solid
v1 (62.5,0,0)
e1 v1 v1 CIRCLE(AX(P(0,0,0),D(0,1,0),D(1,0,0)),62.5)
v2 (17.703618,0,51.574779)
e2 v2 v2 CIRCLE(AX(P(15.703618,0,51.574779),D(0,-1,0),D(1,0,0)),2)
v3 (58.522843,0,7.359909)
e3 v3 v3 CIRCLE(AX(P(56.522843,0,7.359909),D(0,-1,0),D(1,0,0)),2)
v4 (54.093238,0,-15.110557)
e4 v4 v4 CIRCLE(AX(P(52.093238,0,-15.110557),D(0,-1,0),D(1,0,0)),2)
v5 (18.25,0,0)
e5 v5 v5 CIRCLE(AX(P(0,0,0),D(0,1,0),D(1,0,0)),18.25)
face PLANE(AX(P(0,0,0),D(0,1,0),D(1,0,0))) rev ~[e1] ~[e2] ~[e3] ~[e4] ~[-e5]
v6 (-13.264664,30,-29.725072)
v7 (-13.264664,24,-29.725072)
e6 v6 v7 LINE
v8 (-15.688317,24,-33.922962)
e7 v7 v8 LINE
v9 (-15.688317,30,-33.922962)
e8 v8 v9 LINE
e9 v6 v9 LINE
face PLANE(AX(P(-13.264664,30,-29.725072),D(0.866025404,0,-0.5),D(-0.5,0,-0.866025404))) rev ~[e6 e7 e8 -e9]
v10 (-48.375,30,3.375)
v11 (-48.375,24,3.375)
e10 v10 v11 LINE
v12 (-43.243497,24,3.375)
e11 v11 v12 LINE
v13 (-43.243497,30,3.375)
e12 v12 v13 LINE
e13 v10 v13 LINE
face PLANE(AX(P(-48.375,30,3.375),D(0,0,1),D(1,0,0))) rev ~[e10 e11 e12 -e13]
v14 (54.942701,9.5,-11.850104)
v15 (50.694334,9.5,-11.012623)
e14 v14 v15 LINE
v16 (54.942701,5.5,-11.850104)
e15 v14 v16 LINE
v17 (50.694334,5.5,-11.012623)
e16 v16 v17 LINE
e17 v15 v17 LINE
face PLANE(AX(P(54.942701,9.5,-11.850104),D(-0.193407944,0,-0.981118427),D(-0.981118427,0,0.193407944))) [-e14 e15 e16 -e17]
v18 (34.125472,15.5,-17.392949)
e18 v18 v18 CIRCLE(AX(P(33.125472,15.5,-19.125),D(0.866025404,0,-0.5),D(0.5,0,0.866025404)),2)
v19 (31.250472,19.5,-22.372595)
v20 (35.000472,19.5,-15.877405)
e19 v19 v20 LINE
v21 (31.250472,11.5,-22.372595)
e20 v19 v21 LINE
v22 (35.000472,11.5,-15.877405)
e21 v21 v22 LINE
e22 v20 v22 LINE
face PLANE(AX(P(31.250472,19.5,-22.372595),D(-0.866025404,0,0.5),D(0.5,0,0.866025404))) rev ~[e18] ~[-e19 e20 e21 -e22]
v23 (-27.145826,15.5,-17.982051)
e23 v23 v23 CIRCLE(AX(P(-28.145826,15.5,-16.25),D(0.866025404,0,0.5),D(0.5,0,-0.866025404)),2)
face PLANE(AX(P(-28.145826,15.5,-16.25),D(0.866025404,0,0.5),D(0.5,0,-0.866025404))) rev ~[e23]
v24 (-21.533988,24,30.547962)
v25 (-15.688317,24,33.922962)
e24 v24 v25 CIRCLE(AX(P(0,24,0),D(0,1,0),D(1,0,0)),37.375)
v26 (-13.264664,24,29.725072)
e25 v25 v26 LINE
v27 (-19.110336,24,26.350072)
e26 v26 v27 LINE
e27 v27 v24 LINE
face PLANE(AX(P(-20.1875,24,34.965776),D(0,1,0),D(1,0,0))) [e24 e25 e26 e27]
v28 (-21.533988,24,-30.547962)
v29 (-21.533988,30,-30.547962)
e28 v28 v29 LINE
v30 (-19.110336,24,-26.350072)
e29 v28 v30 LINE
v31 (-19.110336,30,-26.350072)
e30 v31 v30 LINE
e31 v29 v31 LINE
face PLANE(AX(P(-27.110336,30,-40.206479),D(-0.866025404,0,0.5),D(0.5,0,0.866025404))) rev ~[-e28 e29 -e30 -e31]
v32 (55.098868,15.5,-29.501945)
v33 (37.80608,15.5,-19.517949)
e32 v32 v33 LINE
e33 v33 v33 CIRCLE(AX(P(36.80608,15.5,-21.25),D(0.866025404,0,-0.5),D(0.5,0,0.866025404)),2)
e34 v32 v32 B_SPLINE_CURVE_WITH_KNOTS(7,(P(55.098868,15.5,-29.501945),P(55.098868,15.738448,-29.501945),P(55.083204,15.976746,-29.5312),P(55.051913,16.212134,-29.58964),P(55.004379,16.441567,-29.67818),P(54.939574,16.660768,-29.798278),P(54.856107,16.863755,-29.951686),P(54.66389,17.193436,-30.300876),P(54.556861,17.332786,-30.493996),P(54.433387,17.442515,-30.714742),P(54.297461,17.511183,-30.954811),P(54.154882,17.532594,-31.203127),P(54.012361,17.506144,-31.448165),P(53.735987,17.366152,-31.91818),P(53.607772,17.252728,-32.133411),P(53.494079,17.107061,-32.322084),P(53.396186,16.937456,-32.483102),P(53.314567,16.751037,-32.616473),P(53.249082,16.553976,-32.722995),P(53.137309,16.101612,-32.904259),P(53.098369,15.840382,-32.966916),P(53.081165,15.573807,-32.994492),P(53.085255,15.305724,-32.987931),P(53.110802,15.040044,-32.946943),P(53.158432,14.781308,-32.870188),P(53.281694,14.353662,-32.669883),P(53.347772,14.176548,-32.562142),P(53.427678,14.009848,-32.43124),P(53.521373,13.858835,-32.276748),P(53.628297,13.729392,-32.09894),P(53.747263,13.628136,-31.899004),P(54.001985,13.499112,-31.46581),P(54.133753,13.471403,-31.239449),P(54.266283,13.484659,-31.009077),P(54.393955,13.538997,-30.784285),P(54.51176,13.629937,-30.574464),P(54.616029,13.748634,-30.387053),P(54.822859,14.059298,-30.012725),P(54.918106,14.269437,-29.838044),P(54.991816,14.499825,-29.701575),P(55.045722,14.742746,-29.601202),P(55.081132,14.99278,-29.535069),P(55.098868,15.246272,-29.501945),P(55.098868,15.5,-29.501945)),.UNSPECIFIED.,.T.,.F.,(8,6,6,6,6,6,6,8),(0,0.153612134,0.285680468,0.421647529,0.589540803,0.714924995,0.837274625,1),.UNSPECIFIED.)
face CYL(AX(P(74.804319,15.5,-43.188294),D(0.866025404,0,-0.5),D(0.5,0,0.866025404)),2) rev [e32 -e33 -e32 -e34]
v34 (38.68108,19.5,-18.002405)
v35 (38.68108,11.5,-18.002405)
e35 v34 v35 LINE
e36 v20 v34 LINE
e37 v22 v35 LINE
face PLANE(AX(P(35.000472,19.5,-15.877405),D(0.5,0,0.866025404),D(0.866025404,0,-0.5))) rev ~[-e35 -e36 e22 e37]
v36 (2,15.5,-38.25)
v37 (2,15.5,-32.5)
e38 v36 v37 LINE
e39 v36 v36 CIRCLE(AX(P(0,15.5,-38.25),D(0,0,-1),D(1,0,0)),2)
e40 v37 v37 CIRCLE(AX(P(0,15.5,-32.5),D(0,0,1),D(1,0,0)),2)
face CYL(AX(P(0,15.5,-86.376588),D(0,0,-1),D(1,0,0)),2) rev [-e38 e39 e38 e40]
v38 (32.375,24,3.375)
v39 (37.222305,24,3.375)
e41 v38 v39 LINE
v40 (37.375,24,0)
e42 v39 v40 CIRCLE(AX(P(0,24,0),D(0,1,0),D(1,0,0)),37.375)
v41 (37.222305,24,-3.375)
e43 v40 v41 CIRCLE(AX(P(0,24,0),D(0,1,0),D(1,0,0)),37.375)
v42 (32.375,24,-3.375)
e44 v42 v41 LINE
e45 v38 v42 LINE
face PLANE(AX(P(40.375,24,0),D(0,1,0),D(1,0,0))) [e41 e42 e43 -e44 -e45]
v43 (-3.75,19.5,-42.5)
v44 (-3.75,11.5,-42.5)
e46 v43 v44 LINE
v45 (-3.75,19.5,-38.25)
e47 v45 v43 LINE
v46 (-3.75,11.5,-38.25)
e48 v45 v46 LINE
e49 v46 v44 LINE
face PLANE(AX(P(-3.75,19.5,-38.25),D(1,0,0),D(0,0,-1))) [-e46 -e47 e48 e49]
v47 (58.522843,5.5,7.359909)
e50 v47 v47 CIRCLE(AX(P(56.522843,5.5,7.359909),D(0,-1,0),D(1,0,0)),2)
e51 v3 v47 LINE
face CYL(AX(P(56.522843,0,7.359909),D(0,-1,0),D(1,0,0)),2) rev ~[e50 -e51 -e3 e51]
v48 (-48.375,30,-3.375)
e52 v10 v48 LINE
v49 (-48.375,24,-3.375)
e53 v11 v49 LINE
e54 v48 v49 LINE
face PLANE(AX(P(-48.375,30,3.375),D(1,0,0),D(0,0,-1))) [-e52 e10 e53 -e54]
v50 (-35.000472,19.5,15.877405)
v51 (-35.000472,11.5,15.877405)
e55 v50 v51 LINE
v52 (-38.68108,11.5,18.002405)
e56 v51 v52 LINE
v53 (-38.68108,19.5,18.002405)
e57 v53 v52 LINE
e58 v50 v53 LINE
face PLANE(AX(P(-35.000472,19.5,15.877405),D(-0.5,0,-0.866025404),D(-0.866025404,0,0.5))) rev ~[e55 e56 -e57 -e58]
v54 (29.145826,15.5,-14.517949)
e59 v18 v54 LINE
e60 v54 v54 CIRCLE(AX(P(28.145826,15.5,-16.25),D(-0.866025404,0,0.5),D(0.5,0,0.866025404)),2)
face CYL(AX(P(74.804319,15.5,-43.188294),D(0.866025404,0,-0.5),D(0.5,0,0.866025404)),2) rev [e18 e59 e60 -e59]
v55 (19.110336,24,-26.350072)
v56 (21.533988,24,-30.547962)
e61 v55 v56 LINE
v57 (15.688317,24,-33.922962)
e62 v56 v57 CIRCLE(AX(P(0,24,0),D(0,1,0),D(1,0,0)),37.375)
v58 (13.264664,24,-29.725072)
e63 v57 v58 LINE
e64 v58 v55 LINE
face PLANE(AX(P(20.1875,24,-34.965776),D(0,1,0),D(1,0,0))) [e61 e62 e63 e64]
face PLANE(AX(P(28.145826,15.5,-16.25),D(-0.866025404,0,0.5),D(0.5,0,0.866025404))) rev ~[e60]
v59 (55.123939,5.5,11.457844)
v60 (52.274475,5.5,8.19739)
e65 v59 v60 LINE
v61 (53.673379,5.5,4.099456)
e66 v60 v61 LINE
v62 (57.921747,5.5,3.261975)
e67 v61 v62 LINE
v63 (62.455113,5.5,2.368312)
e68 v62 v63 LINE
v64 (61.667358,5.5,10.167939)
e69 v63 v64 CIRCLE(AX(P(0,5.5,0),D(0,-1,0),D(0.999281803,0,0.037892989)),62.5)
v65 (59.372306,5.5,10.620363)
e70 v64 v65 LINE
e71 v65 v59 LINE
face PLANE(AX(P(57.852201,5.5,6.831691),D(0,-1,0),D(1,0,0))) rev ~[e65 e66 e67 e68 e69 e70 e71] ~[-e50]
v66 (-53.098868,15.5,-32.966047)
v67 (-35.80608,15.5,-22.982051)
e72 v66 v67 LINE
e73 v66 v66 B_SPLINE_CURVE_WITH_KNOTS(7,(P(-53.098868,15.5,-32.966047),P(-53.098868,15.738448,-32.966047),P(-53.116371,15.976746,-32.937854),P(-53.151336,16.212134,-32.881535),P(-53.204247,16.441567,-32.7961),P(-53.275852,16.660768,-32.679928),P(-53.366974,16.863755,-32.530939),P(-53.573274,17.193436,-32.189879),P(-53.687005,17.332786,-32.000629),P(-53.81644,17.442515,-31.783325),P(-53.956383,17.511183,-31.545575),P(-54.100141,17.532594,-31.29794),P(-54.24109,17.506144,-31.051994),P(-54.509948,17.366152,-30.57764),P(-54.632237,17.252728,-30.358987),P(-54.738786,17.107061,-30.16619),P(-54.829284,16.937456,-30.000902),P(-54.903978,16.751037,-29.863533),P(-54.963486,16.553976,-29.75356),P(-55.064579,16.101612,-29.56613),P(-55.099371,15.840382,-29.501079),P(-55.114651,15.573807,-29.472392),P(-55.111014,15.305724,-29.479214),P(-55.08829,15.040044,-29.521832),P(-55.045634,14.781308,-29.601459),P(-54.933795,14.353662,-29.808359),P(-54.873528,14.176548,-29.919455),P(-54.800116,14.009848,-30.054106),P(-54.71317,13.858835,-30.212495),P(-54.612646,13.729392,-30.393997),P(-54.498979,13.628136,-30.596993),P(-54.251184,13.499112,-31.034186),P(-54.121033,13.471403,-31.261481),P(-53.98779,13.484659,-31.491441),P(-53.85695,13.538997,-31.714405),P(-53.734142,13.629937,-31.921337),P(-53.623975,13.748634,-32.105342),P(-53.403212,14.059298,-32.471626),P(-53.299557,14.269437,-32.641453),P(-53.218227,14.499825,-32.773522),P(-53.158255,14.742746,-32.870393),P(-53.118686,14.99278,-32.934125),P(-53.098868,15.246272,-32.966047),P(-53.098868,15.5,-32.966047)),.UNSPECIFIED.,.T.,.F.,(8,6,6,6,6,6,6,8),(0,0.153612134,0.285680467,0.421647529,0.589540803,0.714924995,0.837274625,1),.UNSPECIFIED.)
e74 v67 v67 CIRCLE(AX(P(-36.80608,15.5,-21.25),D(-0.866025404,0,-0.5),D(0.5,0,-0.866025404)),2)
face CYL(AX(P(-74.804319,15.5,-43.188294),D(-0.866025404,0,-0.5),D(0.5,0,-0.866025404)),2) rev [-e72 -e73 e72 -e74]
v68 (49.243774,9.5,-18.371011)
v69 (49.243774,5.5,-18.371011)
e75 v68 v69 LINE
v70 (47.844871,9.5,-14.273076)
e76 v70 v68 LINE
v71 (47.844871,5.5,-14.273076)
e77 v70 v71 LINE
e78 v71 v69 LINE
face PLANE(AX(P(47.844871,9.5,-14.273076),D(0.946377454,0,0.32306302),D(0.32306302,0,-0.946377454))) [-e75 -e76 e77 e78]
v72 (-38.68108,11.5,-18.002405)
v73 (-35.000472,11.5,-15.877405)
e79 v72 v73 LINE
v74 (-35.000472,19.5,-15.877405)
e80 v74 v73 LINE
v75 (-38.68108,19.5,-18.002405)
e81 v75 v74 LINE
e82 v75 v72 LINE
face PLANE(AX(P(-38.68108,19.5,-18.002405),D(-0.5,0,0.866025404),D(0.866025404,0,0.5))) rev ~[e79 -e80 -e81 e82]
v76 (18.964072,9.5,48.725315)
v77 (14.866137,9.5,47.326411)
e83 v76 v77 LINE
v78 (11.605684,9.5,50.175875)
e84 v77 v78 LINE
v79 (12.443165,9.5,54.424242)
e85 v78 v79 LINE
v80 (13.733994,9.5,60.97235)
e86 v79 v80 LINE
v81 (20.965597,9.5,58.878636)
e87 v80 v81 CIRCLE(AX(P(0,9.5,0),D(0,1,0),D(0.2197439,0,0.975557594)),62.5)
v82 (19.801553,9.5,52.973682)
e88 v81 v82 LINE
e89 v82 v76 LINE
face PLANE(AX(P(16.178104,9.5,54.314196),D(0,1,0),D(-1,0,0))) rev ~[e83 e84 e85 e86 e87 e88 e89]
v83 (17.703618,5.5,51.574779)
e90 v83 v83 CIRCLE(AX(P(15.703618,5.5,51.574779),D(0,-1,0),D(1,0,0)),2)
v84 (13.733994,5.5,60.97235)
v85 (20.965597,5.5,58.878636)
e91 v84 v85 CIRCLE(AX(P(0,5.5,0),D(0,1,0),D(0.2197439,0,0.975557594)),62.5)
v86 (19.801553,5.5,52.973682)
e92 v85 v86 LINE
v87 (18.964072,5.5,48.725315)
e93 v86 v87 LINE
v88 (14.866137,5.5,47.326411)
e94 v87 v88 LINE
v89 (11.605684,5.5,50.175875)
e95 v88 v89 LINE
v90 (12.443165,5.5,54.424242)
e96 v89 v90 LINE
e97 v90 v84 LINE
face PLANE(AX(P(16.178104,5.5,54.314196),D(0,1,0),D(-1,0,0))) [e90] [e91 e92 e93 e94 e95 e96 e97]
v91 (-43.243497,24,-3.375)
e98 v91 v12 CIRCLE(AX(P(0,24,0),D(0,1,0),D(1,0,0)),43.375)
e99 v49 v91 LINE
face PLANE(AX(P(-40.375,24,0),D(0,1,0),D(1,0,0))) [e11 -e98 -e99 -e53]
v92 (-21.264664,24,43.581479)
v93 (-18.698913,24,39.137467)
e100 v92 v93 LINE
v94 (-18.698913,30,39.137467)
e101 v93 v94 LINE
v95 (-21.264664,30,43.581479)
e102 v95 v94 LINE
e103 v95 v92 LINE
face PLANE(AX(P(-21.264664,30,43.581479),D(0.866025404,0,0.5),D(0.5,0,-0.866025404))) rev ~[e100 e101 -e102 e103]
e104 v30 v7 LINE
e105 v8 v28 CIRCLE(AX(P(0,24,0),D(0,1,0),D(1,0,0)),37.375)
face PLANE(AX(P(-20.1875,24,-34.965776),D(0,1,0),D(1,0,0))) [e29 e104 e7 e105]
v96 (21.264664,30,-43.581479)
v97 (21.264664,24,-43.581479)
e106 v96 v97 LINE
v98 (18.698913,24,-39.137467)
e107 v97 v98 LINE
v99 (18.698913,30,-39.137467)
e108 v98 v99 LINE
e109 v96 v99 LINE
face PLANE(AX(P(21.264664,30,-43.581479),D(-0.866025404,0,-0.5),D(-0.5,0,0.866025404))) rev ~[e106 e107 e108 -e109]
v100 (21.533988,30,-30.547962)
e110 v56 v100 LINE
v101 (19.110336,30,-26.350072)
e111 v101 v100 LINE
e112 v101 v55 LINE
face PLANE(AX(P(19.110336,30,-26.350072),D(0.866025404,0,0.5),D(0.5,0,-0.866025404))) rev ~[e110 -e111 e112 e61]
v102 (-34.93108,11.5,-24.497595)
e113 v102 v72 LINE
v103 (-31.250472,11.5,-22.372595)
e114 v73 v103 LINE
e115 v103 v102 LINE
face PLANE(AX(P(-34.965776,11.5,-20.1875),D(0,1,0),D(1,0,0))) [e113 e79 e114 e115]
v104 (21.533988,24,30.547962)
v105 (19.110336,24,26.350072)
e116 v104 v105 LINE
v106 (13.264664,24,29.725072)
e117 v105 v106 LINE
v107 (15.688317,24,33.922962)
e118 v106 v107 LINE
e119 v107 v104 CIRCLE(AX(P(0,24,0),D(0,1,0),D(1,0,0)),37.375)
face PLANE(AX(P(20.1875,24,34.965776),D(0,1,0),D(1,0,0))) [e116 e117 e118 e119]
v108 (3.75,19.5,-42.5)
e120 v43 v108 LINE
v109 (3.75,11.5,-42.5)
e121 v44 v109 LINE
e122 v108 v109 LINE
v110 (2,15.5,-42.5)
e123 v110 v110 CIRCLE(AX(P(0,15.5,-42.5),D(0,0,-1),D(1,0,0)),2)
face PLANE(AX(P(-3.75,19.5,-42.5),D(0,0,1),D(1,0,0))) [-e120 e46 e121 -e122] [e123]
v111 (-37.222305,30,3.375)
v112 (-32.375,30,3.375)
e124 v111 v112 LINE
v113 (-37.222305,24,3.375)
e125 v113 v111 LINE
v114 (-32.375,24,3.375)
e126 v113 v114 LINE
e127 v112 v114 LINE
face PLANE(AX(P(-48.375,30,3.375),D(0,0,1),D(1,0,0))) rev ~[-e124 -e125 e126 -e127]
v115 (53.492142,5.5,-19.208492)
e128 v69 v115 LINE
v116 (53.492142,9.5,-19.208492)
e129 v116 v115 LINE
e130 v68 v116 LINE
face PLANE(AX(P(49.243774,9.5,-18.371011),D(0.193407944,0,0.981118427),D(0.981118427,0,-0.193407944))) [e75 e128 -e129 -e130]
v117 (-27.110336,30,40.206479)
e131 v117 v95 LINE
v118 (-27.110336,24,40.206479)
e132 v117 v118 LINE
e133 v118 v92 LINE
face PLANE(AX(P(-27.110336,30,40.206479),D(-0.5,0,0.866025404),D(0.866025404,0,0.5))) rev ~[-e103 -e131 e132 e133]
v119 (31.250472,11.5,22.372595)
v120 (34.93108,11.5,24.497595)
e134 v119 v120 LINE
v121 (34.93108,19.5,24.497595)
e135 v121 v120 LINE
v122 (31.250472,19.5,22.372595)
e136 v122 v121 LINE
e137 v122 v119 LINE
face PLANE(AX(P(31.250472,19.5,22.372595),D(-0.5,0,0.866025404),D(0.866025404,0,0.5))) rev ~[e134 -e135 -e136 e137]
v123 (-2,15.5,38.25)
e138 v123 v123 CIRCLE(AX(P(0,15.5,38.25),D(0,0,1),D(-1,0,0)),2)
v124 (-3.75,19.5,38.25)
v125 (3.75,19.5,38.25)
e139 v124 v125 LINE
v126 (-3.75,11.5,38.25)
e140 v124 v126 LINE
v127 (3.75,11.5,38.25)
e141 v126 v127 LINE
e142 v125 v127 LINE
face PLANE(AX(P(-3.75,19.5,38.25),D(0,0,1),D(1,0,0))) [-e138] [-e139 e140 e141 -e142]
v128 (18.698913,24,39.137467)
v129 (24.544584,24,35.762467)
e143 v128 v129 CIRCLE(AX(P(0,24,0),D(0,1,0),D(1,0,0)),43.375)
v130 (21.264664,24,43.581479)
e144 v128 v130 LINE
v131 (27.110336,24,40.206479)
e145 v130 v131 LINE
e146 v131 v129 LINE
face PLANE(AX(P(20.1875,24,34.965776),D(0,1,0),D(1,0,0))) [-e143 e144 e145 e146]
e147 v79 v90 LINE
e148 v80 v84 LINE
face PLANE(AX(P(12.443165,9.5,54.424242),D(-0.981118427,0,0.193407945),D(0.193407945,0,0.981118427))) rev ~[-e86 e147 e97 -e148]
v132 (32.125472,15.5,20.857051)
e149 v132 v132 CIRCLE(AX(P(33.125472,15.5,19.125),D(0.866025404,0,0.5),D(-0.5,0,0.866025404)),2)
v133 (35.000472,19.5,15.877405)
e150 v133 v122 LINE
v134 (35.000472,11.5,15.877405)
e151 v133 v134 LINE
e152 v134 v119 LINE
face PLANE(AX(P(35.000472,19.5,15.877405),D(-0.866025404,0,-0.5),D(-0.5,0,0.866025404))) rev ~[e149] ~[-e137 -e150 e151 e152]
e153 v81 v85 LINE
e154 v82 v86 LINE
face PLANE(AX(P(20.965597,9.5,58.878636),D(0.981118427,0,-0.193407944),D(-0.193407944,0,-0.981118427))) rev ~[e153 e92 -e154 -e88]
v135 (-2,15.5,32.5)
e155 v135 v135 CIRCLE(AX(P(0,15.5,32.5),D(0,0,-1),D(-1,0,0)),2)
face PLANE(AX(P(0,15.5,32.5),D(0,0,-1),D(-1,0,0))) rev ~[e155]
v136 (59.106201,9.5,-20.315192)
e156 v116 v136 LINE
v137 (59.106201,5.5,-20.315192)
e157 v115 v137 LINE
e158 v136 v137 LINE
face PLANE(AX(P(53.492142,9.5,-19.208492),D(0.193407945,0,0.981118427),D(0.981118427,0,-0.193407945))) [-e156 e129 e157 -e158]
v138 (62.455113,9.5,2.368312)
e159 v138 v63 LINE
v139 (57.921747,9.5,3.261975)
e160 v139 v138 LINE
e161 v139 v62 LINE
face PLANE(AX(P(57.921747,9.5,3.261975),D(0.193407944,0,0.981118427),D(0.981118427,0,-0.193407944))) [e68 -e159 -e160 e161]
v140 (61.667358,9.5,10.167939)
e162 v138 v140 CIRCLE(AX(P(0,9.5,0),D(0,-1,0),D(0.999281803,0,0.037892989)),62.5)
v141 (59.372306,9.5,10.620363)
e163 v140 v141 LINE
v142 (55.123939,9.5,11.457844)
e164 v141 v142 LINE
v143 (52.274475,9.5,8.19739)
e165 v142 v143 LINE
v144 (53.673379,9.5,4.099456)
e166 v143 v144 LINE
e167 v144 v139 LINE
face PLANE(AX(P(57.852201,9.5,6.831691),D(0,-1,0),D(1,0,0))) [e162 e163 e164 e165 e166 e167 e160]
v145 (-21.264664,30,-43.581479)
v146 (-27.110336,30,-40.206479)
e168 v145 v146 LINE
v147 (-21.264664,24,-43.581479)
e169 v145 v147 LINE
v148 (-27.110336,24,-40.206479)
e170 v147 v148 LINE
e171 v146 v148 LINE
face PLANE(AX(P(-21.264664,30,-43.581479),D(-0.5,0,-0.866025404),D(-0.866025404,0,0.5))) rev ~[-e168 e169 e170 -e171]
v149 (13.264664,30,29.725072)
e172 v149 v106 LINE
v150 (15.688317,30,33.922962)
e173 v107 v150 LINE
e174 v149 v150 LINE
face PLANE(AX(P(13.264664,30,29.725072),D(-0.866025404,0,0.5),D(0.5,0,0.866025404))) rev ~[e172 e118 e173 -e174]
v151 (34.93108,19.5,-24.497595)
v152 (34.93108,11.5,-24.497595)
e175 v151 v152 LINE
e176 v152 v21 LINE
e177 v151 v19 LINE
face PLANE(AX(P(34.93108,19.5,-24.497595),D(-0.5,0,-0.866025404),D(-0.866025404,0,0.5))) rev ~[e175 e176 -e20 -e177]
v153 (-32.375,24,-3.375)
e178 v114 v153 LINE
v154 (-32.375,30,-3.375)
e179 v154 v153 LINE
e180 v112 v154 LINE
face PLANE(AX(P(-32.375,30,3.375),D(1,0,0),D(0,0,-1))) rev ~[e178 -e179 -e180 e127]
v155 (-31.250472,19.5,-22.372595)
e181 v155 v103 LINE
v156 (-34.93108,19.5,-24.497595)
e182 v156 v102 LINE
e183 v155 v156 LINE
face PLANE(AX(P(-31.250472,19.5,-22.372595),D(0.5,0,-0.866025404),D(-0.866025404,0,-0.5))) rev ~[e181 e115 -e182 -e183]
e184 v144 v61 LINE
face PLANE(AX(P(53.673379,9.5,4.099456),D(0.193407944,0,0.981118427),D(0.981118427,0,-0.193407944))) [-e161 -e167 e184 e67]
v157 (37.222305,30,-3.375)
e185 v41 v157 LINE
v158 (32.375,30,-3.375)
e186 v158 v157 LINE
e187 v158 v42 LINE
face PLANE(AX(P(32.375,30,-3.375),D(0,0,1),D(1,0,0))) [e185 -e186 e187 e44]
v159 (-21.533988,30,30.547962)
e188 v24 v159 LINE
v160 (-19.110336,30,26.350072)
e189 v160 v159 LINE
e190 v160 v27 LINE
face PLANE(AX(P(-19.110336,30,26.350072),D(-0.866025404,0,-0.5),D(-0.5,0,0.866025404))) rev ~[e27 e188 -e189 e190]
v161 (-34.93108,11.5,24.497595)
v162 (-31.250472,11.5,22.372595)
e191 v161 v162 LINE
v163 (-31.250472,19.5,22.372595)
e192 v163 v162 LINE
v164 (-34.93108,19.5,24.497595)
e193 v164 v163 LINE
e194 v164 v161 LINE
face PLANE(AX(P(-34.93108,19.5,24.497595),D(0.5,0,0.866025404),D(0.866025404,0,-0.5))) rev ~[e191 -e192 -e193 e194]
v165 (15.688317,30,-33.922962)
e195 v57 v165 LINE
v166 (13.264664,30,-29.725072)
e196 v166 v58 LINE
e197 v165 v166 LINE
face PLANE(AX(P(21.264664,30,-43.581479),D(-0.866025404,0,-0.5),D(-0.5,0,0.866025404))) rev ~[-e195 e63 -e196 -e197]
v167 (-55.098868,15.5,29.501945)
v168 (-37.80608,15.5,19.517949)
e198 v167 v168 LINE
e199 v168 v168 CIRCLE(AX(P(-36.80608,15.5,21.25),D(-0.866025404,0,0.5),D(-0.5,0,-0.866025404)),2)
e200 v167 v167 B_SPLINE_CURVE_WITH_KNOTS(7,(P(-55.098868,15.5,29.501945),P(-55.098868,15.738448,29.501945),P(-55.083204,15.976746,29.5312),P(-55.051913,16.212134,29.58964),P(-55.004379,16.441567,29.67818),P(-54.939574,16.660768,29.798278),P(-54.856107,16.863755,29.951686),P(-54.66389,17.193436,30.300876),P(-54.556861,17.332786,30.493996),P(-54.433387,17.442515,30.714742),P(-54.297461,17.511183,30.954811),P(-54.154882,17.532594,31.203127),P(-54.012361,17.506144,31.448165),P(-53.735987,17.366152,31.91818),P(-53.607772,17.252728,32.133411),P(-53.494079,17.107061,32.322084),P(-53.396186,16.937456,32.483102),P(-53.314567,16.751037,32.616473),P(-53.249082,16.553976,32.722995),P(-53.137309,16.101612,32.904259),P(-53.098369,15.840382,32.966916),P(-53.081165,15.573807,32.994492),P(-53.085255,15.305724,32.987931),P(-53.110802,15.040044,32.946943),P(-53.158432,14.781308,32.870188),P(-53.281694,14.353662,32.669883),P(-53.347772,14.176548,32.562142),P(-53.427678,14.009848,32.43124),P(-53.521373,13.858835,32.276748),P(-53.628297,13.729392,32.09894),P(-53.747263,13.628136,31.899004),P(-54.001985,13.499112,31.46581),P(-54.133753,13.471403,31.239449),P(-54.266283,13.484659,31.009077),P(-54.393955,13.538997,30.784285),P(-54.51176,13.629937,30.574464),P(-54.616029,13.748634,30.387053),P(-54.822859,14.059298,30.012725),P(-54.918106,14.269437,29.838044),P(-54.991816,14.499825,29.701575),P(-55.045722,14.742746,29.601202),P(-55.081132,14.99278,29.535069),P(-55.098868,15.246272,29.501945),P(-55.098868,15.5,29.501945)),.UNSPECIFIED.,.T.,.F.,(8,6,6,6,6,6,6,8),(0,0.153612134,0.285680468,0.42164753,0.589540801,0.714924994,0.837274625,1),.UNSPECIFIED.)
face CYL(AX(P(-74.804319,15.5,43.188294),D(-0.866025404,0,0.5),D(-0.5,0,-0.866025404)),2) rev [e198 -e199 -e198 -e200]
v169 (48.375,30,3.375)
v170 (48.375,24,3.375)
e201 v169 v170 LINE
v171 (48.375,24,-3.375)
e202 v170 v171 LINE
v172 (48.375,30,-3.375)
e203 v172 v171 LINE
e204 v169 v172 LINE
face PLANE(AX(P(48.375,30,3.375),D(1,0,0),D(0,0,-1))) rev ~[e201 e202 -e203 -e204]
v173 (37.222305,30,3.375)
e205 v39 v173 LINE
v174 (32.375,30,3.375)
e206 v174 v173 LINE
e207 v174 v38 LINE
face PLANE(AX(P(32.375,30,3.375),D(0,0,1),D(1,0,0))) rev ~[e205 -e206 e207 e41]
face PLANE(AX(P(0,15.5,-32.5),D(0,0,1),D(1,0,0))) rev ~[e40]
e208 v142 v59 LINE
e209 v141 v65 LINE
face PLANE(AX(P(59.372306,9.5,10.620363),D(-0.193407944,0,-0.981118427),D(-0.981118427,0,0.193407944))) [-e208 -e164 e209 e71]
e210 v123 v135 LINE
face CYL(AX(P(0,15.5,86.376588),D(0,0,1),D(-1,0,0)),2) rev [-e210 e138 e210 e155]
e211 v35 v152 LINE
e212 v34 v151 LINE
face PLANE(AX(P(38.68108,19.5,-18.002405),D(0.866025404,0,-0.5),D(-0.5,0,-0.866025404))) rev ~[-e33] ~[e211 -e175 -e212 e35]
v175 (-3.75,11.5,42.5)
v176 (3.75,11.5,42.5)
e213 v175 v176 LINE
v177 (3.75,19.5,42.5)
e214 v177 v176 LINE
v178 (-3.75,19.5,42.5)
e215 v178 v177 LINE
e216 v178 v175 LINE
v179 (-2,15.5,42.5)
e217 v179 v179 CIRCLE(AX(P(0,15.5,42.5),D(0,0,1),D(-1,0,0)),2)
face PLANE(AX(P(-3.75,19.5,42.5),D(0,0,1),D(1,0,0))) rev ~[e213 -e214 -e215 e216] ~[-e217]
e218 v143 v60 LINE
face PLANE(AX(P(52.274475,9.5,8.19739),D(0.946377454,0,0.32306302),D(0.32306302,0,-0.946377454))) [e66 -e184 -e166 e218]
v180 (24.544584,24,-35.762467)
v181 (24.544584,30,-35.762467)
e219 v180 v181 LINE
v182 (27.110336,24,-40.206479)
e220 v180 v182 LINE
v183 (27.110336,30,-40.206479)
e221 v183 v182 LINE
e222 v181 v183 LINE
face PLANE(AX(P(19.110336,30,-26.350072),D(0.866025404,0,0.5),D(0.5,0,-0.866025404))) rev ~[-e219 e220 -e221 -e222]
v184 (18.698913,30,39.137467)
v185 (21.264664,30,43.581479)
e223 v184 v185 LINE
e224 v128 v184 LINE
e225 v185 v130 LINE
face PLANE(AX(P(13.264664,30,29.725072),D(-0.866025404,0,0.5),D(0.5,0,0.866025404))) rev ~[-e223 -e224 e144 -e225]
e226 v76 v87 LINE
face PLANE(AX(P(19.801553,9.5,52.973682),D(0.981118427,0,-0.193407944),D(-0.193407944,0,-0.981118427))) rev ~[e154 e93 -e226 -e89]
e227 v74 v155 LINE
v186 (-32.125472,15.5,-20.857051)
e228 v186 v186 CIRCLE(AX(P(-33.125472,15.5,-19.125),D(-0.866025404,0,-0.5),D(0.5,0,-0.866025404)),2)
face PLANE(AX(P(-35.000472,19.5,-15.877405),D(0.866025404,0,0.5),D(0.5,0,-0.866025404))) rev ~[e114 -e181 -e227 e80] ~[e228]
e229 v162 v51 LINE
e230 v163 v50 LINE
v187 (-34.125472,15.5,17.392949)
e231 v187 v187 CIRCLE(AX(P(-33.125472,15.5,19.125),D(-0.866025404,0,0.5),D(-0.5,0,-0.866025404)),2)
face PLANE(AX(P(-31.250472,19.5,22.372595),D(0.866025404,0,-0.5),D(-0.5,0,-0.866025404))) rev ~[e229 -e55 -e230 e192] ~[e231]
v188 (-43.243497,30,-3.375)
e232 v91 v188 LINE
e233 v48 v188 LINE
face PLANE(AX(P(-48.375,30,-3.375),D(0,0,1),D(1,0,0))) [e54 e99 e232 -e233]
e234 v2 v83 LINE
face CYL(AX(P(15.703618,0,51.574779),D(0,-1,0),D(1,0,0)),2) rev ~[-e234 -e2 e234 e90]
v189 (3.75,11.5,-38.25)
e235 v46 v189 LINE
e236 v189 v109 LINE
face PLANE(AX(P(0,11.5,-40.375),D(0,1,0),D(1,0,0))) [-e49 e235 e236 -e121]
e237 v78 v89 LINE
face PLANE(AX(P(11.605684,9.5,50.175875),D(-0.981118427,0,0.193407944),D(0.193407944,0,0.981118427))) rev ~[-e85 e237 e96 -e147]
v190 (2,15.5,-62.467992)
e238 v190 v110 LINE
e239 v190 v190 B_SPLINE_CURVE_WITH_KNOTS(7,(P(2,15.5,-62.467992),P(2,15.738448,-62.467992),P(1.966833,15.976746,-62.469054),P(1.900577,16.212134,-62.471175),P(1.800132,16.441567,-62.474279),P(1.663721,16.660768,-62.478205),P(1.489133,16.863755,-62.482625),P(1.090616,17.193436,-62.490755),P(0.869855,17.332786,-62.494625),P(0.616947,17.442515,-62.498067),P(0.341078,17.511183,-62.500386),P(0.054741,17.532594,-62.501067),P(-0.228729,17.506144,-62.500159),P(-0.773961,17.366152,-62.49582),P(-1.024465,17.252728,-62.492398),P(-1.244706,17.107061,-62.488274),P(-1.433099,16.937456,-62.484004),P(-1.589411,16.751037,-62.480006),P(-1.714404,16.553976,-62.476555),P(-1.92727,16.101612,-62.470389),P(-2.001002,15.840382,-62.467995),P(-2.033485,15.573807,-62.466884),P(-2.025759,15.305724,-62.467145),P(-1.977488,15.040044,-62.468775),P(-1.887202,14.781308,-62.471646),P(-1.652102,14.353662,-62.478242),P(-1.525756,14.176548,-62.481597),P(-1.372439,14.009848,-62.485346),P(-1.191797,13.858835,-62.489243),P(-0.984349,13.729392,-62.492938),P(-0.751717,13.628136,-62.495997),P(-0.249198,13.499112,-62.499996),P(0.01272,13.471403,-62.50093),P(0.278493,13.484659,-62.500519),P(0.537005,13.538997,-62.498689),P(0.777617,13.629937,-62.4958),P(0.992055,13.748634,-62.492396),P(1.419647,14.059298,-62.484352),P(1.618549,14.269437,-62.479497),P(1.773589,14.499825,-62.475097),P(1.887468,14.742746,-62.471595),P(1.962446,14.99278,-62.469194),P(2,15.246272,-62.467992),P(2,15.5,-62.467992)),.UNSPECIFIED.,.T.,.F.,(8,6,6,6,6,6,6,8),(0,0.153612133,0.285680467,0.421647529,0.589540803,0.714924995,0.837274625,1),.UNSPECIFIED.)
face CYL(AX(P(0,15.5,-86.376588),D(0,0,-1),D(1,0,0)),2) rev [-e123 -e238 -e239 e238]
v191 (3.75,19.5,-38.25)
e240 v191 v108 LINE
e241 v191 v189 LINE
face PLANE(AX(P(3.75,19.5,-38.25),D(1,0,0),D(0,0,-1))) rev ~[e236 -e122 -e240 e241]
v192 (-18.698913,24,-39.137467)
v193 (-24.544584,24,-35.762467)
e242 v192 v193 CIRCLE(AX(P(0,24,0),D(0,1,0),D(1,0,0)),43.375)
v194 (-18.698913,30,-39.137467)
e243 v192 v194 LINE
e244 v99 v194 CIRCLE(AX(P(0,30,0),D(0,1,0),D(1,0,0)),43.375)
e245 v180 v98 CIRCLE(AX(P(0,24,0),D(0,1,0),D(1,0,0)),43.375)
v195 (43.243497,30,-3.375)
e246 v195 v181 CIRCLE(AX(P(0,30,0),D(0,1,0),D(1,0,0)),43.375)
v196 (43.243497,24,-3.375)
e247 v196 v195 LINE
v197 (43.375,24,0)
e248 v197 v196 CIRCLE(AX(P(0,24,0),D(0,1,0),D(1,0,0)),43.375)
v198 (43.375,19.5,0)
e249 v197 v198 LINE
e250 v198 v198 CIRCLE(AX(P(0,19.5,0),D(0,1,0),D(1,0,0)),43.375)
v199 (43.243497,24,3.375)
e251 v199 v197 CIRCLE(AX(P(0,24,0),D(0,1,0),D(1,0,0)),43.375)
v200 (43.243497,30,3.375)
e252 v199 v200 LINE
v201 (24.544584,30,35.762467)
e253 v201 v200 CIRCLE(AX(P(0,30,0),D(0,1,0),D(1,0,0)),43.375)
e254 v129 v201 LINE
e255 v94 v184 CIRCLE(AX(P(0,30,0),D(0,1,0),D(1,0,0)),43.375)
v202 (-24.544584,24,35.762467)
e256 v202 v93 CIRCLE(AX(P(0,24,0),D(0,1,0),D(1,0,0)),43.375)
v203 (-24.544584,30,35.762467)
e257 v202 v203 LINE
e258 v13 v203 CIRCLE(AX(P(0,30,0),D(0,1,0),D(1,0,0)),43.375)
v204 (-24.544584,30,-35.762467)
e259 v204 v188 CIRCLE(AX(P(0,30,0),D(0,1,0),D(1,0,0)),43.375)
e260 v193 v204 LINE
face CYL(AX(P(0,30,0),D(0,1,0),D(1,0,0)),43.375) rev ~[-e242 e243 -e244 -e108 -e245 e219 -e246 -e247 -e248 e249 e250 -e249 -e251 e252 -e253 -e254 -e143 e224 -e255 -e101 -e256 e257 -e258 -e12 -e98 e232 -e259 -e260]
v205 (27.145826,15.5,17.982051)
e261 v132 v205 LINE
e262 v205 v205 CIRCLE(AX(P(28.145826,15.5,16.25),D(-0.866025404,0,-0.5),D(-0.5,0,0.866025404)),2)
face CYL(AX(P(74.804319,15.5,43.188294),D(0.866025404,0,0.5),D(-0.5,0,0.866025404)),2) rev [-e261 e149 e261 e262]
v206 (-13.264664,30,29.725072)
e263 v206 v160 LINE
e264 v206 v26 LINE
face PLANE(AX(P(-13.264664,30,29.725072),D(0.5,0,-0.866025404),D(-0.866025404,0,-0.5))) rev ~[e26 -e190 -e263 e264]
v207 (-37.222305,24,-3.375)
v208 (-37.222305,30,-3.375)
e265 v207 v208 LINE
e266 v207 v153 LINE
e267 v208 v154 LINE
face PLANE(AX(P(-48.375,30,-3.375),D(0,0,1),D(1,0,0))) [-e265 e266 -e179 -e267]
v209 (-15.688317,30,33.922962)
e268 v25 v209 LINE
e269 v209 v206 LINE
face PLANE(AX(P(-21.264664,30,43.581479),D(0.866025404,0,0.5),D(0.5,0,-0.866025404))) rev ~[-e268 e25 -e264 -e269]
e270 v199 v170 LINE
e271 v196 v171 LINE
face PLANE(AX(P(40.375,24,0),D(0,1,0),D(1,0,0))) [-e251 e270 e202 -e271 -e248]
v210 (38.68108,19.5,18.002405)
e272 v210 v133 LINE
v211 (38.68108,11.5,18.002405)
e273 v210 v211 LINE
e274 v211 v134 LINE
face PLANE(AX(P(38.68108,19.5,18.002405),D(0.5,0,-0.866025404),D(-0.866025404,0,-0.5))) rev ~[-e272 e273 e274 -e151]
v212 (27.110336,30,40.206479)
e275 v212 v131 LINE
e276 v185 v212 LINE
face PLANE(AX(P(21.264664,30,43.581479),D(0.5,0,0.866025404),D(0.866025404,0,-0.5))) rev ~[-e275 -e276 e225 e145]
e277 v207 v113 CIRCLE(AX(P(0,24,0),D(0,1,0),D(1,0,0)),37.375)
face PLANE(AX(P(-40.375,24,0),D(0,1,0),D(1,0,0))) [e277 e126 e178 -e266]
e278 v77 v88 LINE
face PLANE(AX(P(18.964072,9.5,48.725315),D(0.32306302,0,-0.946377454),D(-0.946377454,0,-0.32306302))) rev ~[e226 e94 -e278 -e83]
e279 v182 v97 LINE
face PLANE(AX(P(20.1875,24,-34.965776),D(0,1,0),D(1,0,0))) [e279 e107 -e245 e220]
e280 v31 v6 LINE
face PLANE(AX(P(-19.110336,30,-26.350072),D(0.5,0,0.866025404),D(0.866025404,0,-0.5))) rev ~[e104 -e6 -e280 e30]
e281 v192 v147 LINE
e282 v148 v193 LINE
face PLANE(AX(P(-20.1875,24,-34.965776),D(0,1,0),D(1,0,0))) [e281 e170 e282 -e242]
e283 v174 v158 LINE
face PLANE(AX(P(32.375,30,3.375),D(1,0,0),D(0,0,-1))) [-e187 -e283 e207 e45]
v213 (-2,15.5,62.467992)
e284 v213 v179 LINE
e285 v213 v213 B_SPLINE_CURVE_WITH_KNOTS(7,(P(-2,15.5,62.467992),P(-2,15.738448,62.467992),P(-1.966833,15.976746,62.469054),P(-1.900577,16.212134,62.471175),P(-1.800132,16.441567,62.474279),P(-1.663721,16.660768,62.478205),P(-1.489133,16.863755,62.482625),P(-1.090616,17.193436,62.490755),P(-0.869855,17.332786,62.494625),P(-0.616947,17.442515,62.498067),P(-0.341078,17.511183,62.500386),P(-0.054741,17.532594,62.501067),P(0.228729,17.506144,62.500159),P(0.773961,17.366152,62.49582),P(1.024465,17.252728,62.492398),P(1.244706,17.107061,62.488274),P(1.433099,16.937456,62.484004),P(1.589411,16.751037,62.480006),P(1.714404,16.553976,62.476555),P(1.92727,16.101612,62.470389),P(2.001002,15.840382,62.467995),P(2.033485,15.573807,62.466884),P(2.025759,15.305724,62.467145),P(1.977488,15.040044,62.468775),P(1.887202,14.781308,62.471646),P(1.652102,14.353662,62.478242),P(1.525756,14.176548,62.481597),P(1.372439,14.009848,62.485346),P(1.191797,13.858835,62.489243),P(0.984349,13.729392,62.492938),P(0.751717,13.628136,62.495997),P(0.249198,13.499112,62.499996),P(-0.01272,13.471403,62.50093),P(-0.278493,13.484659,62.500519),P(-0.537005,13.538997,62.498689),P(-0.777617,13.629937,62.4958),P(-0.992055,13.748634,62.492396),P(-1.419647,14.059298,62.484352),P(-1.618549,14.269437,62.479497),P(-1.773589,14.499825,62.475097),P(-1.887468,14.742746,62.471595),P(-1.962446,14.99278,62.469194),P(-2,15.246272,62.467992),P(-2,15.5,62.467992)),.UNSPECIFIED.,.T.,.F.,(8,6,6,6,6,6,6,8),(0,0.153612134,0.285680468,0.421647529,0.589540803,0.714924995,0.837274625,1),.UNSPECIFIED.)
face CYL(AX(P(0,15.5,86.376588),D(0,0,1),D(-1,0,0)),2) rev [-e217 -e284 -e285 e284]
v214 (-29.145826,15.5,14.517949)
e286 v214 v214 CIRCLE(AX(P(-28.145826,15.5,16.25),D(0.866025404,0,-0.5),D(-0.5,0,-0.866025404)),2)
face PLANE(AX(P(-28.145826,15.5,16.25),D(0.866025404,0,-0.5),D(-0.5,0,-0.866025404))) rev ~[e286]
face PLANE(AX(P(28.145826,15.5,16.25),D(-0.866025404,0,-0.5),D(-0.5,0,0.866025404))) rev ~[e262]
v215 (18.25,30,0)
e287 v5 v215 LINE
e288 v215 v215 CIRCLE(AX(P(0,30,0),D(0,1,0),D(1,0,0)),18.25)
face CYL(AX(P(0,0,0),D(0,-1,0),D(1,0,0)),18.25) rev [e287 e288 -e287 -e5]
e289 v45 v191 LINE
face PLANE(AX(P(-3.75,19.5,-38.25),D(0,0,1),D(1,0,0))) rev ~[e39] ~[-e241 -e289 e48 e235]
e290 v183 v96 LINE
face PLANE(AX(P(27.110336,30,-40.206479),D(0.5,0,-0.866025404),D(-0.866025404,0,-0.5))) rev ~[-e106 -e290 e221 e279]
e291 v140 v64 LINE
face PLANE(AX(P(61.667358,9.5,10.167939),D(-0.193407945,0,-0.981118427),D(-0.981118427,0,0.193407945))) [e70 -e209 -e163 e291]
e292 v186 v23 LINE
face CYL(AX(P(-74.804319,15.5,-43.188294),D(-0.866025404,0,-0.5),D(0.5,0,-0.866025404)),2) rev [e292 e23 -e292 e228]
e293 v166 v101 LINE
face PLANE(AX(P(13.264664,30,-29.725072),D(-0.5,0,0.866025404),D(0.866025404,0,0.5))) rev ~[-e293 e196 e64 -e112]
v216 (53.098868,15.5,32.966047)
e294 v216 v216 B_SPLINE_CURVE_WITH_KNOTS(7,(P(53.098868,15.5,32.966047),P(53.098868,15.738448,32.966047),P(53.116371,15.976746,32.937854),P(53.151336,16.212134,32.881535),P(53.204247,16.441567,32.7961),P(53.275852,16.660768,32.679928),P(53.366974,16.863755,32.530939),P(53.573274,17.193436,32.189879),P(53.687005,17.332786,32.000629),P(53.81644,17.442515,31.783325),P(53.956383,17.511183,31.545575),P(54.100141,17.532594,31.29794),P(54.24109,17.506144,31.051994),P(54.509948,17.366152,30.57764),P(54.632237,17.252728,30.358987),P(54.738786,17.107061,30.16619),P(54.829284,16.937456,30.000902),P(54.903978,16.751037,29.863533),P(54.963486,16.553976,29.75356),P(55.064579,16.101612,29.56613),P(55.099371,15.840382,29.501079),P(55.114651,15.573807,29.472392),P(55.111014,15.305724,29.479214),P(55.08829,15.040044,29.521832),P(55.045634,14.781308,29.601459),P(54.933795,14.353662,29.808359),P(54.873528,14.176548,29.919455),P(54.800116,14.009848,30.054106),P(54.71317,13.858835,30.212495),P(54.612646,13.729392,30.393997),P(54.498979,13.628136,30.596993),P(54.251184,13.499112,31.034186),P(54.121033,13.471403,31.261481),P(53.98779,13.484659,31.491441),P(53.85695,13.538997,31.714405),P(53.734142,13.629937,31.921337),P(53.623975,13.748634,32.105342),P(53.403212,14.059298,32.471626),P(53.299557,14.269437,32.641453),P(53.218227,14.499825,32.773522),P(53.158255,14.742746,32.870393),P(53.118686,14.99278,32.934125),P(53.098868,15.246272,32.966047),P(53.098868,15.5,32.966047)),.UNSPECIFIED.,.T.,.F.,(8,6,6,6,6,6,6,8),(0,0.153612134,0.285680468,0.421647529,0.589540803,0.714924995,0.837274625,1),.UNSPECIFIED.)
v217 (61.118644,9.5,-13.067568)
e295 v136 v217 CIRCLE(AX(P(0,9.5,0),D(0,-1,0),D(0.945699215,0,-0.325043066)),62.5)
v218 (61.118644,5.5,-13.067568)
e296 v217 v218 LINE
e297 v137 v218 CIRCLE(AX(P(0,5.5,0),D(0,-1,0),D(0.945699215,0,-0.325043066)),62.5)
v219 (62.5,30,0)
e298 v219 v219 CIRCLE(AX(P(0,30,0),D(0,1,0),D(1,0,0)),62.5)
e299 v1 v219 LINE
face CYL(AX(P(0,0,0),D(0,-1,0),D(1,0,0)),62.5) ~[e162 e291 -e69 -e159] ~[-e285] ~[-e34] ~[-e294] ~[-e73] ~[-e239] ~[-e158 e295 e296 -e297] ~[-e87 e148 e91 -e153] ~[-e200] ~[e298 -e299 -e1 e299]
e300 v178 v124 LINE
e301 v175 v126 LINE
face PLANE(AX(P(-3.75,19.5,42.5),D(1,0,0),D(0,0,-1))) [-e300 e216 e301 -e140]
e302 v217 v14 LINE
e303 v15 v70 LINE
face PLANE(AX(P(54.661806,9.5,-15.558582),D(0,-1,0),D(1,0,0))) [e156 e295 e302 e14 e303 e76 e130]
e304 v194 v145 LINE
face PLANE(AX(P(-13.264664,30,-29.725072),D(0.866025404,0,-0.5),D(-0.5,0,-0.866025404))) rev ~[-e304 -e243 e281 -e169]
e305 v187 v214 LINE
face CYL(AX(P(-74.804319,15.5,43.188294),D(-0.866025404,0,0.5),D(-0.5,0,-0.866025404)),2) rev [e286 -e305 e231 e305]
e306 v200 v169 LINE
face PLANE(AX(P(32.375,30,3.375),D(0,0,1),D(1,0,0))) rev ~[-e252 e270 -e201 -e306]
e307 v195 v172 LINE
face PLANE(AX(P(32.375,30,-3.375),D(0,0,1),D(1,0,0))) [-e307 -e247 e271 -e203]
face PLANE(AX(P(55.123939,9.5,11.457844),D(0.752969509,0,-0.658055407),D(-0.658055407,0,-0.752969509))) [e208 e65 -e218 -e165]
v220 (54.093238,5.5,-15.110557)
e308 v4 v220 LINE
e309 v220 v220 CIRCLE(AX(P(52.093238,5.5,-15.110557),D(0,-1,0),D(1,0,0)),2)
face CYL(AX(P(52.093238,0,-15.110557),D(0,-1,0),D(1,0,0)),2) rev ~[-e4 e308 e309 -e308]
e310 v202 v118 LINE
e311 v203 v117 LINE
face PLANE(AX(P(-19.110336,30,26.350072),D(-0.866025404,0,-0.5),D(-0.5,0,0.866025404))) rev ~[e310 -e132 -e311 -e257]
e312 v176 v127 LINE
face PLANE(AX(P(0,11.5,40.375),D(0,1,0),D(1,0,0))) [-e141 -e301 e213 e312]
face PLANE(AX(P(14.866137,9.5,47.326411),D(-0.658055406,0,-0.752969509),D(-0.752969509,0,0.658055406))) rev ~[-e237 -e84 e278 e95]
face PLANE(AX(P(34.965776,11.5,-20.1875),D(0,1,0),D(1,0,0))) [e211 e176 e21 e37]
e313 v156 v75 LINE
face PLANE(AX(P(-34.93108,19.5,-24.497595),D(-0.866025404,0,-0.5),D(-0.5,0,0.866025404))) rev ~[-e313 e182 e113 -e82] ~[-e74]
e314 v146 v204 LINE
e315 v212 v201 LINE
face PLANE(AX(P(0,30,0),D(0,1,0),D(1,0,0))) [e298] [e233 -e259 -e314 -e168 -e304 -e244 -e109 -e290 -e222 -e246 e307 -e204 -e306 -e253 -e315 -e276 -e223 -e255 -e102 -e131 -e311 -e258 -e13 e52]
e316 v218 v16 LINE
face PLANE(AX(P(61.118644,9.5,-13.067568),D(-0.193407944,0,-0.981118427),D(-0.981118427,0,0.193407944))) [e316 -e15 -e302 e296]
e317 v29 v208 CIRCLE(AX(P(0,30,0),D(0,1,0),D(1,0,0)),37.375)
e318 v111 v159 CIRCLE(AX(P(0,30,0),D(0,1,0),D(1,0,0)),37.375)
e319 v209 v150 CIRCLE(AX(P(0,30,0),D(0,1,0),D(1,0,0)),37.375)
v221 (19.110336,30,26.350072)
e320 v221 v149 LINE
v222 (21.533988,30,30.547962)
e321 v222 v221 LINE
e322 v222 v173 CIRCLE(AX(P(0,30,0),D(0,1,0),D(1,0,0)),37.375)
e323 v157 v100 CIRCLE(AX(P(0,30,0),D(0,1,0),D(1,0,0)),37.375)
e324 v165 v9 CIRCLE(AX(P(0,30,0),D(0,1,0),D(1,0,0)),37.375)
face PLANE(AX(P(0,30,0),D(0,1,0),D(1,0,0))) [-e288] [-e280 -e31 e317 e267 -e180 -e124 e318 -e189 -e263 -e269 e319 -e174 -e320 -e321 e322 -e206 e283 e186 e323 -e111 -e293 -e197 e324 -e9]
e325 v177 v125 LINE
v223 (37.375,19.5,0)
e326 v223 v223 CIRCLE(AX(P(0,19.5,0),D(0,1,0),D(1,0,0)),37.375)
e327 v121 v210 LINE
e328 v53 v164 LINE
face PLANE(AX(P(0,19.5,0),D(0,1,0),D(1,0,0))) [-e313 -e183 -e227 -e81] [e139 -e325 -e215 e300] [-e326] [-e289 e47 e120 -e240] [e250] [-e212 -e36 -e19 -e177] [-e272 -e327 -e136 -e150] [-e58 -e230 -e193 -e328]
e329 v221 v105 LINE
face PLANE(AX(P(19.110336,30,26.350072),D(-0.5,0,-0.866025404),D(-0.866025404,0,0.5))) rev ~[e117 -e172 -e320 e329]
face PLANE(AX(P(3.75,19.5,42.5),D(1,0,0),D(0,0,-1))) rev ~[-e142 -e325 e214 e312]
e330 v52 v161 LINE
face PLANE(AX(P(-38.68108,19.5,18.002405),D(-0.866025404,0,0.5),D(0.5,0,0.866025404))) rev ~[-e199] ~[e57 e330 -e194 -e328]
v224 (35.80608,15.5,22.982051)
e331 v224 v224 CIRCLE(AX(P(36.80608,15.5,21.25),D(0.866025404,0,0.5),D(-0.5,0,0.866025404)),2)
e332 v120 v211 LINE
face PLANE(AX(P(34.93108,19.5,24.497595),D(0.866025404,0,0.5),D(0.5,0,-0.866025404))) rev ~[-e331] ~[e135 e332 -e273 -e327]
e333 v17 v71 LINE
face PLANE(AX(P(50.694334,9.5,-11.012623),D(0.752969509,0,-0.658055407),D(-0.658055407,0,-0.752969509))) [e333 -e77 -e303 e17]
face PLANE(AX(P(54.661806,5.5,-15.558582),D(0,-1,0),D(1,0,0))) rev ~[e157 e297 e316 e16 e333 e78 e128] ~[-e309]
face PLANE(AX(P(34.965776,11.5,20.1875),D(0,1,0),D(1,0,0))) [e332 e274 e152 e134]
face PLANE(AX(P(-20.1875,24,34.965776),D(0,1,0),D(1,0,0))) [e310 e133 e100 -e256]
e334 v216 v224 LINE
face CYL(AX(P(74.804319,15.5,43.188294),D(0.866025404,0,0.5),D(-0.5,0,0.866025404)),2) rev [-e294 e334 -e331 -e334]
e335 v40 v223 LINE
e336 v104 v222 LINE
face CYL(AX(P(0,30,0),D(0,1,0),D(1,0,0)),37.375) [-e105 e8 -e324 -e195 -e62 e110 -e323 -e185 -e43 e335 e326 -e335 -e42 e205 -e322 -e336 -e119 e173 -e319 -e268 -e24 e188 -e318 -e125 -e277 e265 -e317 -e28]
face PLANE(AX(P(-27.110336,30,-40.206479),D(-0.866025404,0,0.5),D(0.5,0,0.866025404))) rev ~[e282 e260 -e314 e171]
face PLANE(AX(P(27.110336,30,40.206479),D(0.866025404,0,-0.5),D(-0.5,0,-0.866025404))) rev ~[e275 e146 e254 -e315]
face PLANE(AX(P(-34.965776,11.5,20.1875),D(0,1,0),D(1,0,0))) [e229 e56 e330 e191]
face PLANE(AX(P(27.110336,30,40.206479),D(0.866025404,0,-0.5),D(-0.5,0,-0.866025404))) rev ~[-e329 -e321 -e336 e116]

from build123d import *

# Parameters (mm, degrees)
SKETCH1_R           = 62.5
SKETCH1_R_2         = 18.25
BOSS_EXTRUDE1_DEPTH = 30
SKETCH2_W           = 16
SKETCH2_H           = 6.75
CUT_EXTRUDE2_DEPTH  = 6
SKETCH3_R           = 43.375
SKETCH3_R_2         = 37.375
CUT_EXTRUDE3_DEPTH  = 10.5
SKETCH5_W           = 7.5
SKETCH5_H           = 4.25
CUT_EXTRUDE5_DEPTH  = 8
CUT_EXTRUDE6_START  = -43.876587737
SKETCH6_R           = 2
CUT_EXTRUDE6_DEPTH  = 53.876587737
CIRPATTERN1_COUNT   = 6
SKETCH7_R           = 2
CUT_EXTRUDE7_DEPTH  = 9.5
CUT_EXTRUDE8_DEPTH  = 4


with BuildPart() as part:
    # Sketch1 → Boss-Extrude1 (new body)
    with BuildSketch(Plane(origin=(0, 0, 0), x_dir=(1, 0, 0), z_dir=(0, 1, 0))):
        Circle(SKETCH1_R)
        Circle(SKETCH1_R_2, mode=Mode.SUBTRACT)
    extrude(amount=BOSS_EXTRUDE1_DEPTH)

    # Sketch2 → Cut-Extrude2 (cut)
    with BuildSketch(Plane(origin=(0, 30, 0), x_dir=(1, 0, 0), z_dir=(0, 1, 0))):
        with Locations((40.375, 0)):
            Rectangle(SKETCH2_W, SKETCH2_H)
        Polygon((19.110335738, -26.350072448), (13.264664262, -29.725072448), (21.264664262, -43.581478908), (27.110335738, -40.206478908), align=None)
        Polygon((-13.264664262, -29.725072448), (-19.110335738, -26.350072448), (-27.110335738, -40.206478908), (-21.264664262, -43.581478908), align=None)
        with Locations((-40.375, 0)):
            Rectangle(SKETCH2_W, SKETCH2_H)
        Polygon((-19.110335738, 26.350072448), (-13.264664262, 29.725072448), (-21.264664262, 43.581478908), (-27.110335738, 40.206478908), align=None)
        Polygon((13.264664262, 29.725072448), (19.110335738, 26.350072448), (27.110335738, 40.206478908), (21.264664262, 43.581478908), align=None)
    extrude(amount=-CUT_EXTRUDE2_DEPTH, mode=Mode.SUBTRACT)

    # Sketch3 → Cut-Extrude3 (cut)
    with BuildSketch(Plane(origin=(0, 30, 0), x_dir=(1, 0, 0), z_dir=(0, 1, 0))):
        Circle(SKETCH3_R)
        Circle(SKETCH3_R_2, mode=Mode.SUBTRACT)
    extrude(amount=-CUT_EXTRUDE3_DEPTH, mode=Mode.SUBTRACT)

    # Sketch5 → Cut-Extrude5 (cut)
    with BuildSketch(Plane(origin=(0, 19.5, 0), x_dir=(1, 0, 0), z_dir=(0, 1, 0))):
        with Locations((0, 40.375)):
            Rectangle(SKETCH5_W, SKETCH5_H)
        Polygon((34.931079661, 24.497595264), (31.250471695, 22.372595264), (35.000471695, 15.877404736), (38.681079661, 18.002404736), align=None)
        Polygon((38.681079661, -18.002404736), (35.000471695, -15.877404736), (31.250471695, -22.372595264), (34.931079661, -24.497595264), align=None)
        with Locations((0, -40.375)):
            Rectangle(SKETCH5_W, SKETCH5_H)
        Polygon((-34.931079661, -24.497595264), (-31.250471695, -22.372595264), (-35.000471695, -15.877404736), (-38.681079661, -18.002404736), align=None)
        Polygon((-38.681079661, 18.002404736), (-35.000471695, 15.877404736), (-31.250471695, 22.372595264), (-34.931079661, 24.497595264), align=None)
    extrude(amount=-CUT_EXTRUDE5_DEPTH, mode=Mode.SUBTRACT)

    # Sketch6 → Cut-Extrude6 (cut)
    with BuildSketch(Plane(origin=(36.806079661, 0, -21.25), x_dir=(0.5, 0, 0.866025404), z_dir=(-0.866025404, 0, 0.5)).offset(CUT_EXTRUDE6_START)):
        with Locations((0, 15.5)):
            Circle(SKETCH6_R)
    cut_extrude6 = extrude(amount=CUT_EXTRUDE6_DEPTH, mode=Mode.SUBTRACT)

    # CirPattern1: Cut-Extrude6 ×6 about axis
    cirpattern1_axis = Axis((0, 0, 0), (0, 1, 0))
    for i in range(1, CIRPATTERN1_COUNT):
        add(cut_extrude6.rotate(cirpattern1_axis, i * 360 / CIRPATTERN1_COUNT), mode=Mode.SUBTRACT)

    # Sketch7 → Cut-Extrude7 (cut)
    with BuildSketch(Plane.XZ):
        with Locations((15.703618414, 51.574778515)):
            Circle(SKETCH7_R)
        with Locations((56.522842607, 7.359909212)):
            Circle(SKETCH7_R)
        with Locations((52.093237989, -15.110557172)):
            Circle(SKETCH7_R)
    extrude(amount=-CUT_EXTRUDE7_DEPTH, mode=Mode.SUBTRACT)

    # Sketch8 → Cut-Extrude8 (cut)
    with BuildSketch(Plane.XZ.offset(-9.5)):
        with BuildLine():
            Line((12.443164797, 54.42424201), (13.733993709, 60.972349609))
            ThreePointArc((13.733993709, 60.972349609), (17.381349368, 60.034479211), (20.965596862, 58.878635754))
            Line((20.965596862, 58.878635754), (19.801552997, 52.973682427))
            Line((19.801552997, 52.973682427), (18.964072031, 48.725315019))
            Line((18.964072031, 48.725315019), (14.866137449, 47.326411107))
            Line((14.866137449, 47.326411107), (11.605683832, 50.175874602))
            Line((11.605683832, 50.175874602), (12.443164797, 54.42424201))
        make_face()
        with BuildLine():
            Line((54.942701485, -11.850103555), (50.694334077, -11.012622589))
            Line((50.694334077, -11.012622589), (47.844870581, -14.273076206))
            Line((47.844870581, -14.273076206), (49.243774494, -18.371010788))
            Line((49.243774494, -18.371010788), (53.492141902, -19.208491754))
            Line((53.492141902, -19.208491754), (59.106200943, -20.315191608))
            ThreePointArc((59.106200943, -20.315191608), (60.22155233, -16.721681583), (61.118644269, -13.06756759))
            Line((61.118644269, -13.06756759), (54.942701485, -11.850103555))
        make_face()
        with BuildLine():
            Line((59.372306103, 10.620362829), (55.123938695, 11.457843794))
            Line((55.123938695, 11.457843794), (52.274475199, 8.197390178))
            Line((52.274475199, 8.197390178), (53.673379112, 4.099455595))
            Line((53.673379112, 4.099455595), (57.92174652, 3.261974629))
            Line((57.92174652, 3.261974629), (62.455112673, 2.368311841))
            ThreePointArc((62.455112673, 2.368311841), (62.183643054, 6.280488561), (61.667357766, 10.167939133))
            Line((61.667357766, 10.167939133), (59.372306103, 10.620362829))
        make_face()
    extrude(amount=CUT_EXTRUDE8_DEPTH, mode=Mode.SUBTRACT)


solid = part.part
